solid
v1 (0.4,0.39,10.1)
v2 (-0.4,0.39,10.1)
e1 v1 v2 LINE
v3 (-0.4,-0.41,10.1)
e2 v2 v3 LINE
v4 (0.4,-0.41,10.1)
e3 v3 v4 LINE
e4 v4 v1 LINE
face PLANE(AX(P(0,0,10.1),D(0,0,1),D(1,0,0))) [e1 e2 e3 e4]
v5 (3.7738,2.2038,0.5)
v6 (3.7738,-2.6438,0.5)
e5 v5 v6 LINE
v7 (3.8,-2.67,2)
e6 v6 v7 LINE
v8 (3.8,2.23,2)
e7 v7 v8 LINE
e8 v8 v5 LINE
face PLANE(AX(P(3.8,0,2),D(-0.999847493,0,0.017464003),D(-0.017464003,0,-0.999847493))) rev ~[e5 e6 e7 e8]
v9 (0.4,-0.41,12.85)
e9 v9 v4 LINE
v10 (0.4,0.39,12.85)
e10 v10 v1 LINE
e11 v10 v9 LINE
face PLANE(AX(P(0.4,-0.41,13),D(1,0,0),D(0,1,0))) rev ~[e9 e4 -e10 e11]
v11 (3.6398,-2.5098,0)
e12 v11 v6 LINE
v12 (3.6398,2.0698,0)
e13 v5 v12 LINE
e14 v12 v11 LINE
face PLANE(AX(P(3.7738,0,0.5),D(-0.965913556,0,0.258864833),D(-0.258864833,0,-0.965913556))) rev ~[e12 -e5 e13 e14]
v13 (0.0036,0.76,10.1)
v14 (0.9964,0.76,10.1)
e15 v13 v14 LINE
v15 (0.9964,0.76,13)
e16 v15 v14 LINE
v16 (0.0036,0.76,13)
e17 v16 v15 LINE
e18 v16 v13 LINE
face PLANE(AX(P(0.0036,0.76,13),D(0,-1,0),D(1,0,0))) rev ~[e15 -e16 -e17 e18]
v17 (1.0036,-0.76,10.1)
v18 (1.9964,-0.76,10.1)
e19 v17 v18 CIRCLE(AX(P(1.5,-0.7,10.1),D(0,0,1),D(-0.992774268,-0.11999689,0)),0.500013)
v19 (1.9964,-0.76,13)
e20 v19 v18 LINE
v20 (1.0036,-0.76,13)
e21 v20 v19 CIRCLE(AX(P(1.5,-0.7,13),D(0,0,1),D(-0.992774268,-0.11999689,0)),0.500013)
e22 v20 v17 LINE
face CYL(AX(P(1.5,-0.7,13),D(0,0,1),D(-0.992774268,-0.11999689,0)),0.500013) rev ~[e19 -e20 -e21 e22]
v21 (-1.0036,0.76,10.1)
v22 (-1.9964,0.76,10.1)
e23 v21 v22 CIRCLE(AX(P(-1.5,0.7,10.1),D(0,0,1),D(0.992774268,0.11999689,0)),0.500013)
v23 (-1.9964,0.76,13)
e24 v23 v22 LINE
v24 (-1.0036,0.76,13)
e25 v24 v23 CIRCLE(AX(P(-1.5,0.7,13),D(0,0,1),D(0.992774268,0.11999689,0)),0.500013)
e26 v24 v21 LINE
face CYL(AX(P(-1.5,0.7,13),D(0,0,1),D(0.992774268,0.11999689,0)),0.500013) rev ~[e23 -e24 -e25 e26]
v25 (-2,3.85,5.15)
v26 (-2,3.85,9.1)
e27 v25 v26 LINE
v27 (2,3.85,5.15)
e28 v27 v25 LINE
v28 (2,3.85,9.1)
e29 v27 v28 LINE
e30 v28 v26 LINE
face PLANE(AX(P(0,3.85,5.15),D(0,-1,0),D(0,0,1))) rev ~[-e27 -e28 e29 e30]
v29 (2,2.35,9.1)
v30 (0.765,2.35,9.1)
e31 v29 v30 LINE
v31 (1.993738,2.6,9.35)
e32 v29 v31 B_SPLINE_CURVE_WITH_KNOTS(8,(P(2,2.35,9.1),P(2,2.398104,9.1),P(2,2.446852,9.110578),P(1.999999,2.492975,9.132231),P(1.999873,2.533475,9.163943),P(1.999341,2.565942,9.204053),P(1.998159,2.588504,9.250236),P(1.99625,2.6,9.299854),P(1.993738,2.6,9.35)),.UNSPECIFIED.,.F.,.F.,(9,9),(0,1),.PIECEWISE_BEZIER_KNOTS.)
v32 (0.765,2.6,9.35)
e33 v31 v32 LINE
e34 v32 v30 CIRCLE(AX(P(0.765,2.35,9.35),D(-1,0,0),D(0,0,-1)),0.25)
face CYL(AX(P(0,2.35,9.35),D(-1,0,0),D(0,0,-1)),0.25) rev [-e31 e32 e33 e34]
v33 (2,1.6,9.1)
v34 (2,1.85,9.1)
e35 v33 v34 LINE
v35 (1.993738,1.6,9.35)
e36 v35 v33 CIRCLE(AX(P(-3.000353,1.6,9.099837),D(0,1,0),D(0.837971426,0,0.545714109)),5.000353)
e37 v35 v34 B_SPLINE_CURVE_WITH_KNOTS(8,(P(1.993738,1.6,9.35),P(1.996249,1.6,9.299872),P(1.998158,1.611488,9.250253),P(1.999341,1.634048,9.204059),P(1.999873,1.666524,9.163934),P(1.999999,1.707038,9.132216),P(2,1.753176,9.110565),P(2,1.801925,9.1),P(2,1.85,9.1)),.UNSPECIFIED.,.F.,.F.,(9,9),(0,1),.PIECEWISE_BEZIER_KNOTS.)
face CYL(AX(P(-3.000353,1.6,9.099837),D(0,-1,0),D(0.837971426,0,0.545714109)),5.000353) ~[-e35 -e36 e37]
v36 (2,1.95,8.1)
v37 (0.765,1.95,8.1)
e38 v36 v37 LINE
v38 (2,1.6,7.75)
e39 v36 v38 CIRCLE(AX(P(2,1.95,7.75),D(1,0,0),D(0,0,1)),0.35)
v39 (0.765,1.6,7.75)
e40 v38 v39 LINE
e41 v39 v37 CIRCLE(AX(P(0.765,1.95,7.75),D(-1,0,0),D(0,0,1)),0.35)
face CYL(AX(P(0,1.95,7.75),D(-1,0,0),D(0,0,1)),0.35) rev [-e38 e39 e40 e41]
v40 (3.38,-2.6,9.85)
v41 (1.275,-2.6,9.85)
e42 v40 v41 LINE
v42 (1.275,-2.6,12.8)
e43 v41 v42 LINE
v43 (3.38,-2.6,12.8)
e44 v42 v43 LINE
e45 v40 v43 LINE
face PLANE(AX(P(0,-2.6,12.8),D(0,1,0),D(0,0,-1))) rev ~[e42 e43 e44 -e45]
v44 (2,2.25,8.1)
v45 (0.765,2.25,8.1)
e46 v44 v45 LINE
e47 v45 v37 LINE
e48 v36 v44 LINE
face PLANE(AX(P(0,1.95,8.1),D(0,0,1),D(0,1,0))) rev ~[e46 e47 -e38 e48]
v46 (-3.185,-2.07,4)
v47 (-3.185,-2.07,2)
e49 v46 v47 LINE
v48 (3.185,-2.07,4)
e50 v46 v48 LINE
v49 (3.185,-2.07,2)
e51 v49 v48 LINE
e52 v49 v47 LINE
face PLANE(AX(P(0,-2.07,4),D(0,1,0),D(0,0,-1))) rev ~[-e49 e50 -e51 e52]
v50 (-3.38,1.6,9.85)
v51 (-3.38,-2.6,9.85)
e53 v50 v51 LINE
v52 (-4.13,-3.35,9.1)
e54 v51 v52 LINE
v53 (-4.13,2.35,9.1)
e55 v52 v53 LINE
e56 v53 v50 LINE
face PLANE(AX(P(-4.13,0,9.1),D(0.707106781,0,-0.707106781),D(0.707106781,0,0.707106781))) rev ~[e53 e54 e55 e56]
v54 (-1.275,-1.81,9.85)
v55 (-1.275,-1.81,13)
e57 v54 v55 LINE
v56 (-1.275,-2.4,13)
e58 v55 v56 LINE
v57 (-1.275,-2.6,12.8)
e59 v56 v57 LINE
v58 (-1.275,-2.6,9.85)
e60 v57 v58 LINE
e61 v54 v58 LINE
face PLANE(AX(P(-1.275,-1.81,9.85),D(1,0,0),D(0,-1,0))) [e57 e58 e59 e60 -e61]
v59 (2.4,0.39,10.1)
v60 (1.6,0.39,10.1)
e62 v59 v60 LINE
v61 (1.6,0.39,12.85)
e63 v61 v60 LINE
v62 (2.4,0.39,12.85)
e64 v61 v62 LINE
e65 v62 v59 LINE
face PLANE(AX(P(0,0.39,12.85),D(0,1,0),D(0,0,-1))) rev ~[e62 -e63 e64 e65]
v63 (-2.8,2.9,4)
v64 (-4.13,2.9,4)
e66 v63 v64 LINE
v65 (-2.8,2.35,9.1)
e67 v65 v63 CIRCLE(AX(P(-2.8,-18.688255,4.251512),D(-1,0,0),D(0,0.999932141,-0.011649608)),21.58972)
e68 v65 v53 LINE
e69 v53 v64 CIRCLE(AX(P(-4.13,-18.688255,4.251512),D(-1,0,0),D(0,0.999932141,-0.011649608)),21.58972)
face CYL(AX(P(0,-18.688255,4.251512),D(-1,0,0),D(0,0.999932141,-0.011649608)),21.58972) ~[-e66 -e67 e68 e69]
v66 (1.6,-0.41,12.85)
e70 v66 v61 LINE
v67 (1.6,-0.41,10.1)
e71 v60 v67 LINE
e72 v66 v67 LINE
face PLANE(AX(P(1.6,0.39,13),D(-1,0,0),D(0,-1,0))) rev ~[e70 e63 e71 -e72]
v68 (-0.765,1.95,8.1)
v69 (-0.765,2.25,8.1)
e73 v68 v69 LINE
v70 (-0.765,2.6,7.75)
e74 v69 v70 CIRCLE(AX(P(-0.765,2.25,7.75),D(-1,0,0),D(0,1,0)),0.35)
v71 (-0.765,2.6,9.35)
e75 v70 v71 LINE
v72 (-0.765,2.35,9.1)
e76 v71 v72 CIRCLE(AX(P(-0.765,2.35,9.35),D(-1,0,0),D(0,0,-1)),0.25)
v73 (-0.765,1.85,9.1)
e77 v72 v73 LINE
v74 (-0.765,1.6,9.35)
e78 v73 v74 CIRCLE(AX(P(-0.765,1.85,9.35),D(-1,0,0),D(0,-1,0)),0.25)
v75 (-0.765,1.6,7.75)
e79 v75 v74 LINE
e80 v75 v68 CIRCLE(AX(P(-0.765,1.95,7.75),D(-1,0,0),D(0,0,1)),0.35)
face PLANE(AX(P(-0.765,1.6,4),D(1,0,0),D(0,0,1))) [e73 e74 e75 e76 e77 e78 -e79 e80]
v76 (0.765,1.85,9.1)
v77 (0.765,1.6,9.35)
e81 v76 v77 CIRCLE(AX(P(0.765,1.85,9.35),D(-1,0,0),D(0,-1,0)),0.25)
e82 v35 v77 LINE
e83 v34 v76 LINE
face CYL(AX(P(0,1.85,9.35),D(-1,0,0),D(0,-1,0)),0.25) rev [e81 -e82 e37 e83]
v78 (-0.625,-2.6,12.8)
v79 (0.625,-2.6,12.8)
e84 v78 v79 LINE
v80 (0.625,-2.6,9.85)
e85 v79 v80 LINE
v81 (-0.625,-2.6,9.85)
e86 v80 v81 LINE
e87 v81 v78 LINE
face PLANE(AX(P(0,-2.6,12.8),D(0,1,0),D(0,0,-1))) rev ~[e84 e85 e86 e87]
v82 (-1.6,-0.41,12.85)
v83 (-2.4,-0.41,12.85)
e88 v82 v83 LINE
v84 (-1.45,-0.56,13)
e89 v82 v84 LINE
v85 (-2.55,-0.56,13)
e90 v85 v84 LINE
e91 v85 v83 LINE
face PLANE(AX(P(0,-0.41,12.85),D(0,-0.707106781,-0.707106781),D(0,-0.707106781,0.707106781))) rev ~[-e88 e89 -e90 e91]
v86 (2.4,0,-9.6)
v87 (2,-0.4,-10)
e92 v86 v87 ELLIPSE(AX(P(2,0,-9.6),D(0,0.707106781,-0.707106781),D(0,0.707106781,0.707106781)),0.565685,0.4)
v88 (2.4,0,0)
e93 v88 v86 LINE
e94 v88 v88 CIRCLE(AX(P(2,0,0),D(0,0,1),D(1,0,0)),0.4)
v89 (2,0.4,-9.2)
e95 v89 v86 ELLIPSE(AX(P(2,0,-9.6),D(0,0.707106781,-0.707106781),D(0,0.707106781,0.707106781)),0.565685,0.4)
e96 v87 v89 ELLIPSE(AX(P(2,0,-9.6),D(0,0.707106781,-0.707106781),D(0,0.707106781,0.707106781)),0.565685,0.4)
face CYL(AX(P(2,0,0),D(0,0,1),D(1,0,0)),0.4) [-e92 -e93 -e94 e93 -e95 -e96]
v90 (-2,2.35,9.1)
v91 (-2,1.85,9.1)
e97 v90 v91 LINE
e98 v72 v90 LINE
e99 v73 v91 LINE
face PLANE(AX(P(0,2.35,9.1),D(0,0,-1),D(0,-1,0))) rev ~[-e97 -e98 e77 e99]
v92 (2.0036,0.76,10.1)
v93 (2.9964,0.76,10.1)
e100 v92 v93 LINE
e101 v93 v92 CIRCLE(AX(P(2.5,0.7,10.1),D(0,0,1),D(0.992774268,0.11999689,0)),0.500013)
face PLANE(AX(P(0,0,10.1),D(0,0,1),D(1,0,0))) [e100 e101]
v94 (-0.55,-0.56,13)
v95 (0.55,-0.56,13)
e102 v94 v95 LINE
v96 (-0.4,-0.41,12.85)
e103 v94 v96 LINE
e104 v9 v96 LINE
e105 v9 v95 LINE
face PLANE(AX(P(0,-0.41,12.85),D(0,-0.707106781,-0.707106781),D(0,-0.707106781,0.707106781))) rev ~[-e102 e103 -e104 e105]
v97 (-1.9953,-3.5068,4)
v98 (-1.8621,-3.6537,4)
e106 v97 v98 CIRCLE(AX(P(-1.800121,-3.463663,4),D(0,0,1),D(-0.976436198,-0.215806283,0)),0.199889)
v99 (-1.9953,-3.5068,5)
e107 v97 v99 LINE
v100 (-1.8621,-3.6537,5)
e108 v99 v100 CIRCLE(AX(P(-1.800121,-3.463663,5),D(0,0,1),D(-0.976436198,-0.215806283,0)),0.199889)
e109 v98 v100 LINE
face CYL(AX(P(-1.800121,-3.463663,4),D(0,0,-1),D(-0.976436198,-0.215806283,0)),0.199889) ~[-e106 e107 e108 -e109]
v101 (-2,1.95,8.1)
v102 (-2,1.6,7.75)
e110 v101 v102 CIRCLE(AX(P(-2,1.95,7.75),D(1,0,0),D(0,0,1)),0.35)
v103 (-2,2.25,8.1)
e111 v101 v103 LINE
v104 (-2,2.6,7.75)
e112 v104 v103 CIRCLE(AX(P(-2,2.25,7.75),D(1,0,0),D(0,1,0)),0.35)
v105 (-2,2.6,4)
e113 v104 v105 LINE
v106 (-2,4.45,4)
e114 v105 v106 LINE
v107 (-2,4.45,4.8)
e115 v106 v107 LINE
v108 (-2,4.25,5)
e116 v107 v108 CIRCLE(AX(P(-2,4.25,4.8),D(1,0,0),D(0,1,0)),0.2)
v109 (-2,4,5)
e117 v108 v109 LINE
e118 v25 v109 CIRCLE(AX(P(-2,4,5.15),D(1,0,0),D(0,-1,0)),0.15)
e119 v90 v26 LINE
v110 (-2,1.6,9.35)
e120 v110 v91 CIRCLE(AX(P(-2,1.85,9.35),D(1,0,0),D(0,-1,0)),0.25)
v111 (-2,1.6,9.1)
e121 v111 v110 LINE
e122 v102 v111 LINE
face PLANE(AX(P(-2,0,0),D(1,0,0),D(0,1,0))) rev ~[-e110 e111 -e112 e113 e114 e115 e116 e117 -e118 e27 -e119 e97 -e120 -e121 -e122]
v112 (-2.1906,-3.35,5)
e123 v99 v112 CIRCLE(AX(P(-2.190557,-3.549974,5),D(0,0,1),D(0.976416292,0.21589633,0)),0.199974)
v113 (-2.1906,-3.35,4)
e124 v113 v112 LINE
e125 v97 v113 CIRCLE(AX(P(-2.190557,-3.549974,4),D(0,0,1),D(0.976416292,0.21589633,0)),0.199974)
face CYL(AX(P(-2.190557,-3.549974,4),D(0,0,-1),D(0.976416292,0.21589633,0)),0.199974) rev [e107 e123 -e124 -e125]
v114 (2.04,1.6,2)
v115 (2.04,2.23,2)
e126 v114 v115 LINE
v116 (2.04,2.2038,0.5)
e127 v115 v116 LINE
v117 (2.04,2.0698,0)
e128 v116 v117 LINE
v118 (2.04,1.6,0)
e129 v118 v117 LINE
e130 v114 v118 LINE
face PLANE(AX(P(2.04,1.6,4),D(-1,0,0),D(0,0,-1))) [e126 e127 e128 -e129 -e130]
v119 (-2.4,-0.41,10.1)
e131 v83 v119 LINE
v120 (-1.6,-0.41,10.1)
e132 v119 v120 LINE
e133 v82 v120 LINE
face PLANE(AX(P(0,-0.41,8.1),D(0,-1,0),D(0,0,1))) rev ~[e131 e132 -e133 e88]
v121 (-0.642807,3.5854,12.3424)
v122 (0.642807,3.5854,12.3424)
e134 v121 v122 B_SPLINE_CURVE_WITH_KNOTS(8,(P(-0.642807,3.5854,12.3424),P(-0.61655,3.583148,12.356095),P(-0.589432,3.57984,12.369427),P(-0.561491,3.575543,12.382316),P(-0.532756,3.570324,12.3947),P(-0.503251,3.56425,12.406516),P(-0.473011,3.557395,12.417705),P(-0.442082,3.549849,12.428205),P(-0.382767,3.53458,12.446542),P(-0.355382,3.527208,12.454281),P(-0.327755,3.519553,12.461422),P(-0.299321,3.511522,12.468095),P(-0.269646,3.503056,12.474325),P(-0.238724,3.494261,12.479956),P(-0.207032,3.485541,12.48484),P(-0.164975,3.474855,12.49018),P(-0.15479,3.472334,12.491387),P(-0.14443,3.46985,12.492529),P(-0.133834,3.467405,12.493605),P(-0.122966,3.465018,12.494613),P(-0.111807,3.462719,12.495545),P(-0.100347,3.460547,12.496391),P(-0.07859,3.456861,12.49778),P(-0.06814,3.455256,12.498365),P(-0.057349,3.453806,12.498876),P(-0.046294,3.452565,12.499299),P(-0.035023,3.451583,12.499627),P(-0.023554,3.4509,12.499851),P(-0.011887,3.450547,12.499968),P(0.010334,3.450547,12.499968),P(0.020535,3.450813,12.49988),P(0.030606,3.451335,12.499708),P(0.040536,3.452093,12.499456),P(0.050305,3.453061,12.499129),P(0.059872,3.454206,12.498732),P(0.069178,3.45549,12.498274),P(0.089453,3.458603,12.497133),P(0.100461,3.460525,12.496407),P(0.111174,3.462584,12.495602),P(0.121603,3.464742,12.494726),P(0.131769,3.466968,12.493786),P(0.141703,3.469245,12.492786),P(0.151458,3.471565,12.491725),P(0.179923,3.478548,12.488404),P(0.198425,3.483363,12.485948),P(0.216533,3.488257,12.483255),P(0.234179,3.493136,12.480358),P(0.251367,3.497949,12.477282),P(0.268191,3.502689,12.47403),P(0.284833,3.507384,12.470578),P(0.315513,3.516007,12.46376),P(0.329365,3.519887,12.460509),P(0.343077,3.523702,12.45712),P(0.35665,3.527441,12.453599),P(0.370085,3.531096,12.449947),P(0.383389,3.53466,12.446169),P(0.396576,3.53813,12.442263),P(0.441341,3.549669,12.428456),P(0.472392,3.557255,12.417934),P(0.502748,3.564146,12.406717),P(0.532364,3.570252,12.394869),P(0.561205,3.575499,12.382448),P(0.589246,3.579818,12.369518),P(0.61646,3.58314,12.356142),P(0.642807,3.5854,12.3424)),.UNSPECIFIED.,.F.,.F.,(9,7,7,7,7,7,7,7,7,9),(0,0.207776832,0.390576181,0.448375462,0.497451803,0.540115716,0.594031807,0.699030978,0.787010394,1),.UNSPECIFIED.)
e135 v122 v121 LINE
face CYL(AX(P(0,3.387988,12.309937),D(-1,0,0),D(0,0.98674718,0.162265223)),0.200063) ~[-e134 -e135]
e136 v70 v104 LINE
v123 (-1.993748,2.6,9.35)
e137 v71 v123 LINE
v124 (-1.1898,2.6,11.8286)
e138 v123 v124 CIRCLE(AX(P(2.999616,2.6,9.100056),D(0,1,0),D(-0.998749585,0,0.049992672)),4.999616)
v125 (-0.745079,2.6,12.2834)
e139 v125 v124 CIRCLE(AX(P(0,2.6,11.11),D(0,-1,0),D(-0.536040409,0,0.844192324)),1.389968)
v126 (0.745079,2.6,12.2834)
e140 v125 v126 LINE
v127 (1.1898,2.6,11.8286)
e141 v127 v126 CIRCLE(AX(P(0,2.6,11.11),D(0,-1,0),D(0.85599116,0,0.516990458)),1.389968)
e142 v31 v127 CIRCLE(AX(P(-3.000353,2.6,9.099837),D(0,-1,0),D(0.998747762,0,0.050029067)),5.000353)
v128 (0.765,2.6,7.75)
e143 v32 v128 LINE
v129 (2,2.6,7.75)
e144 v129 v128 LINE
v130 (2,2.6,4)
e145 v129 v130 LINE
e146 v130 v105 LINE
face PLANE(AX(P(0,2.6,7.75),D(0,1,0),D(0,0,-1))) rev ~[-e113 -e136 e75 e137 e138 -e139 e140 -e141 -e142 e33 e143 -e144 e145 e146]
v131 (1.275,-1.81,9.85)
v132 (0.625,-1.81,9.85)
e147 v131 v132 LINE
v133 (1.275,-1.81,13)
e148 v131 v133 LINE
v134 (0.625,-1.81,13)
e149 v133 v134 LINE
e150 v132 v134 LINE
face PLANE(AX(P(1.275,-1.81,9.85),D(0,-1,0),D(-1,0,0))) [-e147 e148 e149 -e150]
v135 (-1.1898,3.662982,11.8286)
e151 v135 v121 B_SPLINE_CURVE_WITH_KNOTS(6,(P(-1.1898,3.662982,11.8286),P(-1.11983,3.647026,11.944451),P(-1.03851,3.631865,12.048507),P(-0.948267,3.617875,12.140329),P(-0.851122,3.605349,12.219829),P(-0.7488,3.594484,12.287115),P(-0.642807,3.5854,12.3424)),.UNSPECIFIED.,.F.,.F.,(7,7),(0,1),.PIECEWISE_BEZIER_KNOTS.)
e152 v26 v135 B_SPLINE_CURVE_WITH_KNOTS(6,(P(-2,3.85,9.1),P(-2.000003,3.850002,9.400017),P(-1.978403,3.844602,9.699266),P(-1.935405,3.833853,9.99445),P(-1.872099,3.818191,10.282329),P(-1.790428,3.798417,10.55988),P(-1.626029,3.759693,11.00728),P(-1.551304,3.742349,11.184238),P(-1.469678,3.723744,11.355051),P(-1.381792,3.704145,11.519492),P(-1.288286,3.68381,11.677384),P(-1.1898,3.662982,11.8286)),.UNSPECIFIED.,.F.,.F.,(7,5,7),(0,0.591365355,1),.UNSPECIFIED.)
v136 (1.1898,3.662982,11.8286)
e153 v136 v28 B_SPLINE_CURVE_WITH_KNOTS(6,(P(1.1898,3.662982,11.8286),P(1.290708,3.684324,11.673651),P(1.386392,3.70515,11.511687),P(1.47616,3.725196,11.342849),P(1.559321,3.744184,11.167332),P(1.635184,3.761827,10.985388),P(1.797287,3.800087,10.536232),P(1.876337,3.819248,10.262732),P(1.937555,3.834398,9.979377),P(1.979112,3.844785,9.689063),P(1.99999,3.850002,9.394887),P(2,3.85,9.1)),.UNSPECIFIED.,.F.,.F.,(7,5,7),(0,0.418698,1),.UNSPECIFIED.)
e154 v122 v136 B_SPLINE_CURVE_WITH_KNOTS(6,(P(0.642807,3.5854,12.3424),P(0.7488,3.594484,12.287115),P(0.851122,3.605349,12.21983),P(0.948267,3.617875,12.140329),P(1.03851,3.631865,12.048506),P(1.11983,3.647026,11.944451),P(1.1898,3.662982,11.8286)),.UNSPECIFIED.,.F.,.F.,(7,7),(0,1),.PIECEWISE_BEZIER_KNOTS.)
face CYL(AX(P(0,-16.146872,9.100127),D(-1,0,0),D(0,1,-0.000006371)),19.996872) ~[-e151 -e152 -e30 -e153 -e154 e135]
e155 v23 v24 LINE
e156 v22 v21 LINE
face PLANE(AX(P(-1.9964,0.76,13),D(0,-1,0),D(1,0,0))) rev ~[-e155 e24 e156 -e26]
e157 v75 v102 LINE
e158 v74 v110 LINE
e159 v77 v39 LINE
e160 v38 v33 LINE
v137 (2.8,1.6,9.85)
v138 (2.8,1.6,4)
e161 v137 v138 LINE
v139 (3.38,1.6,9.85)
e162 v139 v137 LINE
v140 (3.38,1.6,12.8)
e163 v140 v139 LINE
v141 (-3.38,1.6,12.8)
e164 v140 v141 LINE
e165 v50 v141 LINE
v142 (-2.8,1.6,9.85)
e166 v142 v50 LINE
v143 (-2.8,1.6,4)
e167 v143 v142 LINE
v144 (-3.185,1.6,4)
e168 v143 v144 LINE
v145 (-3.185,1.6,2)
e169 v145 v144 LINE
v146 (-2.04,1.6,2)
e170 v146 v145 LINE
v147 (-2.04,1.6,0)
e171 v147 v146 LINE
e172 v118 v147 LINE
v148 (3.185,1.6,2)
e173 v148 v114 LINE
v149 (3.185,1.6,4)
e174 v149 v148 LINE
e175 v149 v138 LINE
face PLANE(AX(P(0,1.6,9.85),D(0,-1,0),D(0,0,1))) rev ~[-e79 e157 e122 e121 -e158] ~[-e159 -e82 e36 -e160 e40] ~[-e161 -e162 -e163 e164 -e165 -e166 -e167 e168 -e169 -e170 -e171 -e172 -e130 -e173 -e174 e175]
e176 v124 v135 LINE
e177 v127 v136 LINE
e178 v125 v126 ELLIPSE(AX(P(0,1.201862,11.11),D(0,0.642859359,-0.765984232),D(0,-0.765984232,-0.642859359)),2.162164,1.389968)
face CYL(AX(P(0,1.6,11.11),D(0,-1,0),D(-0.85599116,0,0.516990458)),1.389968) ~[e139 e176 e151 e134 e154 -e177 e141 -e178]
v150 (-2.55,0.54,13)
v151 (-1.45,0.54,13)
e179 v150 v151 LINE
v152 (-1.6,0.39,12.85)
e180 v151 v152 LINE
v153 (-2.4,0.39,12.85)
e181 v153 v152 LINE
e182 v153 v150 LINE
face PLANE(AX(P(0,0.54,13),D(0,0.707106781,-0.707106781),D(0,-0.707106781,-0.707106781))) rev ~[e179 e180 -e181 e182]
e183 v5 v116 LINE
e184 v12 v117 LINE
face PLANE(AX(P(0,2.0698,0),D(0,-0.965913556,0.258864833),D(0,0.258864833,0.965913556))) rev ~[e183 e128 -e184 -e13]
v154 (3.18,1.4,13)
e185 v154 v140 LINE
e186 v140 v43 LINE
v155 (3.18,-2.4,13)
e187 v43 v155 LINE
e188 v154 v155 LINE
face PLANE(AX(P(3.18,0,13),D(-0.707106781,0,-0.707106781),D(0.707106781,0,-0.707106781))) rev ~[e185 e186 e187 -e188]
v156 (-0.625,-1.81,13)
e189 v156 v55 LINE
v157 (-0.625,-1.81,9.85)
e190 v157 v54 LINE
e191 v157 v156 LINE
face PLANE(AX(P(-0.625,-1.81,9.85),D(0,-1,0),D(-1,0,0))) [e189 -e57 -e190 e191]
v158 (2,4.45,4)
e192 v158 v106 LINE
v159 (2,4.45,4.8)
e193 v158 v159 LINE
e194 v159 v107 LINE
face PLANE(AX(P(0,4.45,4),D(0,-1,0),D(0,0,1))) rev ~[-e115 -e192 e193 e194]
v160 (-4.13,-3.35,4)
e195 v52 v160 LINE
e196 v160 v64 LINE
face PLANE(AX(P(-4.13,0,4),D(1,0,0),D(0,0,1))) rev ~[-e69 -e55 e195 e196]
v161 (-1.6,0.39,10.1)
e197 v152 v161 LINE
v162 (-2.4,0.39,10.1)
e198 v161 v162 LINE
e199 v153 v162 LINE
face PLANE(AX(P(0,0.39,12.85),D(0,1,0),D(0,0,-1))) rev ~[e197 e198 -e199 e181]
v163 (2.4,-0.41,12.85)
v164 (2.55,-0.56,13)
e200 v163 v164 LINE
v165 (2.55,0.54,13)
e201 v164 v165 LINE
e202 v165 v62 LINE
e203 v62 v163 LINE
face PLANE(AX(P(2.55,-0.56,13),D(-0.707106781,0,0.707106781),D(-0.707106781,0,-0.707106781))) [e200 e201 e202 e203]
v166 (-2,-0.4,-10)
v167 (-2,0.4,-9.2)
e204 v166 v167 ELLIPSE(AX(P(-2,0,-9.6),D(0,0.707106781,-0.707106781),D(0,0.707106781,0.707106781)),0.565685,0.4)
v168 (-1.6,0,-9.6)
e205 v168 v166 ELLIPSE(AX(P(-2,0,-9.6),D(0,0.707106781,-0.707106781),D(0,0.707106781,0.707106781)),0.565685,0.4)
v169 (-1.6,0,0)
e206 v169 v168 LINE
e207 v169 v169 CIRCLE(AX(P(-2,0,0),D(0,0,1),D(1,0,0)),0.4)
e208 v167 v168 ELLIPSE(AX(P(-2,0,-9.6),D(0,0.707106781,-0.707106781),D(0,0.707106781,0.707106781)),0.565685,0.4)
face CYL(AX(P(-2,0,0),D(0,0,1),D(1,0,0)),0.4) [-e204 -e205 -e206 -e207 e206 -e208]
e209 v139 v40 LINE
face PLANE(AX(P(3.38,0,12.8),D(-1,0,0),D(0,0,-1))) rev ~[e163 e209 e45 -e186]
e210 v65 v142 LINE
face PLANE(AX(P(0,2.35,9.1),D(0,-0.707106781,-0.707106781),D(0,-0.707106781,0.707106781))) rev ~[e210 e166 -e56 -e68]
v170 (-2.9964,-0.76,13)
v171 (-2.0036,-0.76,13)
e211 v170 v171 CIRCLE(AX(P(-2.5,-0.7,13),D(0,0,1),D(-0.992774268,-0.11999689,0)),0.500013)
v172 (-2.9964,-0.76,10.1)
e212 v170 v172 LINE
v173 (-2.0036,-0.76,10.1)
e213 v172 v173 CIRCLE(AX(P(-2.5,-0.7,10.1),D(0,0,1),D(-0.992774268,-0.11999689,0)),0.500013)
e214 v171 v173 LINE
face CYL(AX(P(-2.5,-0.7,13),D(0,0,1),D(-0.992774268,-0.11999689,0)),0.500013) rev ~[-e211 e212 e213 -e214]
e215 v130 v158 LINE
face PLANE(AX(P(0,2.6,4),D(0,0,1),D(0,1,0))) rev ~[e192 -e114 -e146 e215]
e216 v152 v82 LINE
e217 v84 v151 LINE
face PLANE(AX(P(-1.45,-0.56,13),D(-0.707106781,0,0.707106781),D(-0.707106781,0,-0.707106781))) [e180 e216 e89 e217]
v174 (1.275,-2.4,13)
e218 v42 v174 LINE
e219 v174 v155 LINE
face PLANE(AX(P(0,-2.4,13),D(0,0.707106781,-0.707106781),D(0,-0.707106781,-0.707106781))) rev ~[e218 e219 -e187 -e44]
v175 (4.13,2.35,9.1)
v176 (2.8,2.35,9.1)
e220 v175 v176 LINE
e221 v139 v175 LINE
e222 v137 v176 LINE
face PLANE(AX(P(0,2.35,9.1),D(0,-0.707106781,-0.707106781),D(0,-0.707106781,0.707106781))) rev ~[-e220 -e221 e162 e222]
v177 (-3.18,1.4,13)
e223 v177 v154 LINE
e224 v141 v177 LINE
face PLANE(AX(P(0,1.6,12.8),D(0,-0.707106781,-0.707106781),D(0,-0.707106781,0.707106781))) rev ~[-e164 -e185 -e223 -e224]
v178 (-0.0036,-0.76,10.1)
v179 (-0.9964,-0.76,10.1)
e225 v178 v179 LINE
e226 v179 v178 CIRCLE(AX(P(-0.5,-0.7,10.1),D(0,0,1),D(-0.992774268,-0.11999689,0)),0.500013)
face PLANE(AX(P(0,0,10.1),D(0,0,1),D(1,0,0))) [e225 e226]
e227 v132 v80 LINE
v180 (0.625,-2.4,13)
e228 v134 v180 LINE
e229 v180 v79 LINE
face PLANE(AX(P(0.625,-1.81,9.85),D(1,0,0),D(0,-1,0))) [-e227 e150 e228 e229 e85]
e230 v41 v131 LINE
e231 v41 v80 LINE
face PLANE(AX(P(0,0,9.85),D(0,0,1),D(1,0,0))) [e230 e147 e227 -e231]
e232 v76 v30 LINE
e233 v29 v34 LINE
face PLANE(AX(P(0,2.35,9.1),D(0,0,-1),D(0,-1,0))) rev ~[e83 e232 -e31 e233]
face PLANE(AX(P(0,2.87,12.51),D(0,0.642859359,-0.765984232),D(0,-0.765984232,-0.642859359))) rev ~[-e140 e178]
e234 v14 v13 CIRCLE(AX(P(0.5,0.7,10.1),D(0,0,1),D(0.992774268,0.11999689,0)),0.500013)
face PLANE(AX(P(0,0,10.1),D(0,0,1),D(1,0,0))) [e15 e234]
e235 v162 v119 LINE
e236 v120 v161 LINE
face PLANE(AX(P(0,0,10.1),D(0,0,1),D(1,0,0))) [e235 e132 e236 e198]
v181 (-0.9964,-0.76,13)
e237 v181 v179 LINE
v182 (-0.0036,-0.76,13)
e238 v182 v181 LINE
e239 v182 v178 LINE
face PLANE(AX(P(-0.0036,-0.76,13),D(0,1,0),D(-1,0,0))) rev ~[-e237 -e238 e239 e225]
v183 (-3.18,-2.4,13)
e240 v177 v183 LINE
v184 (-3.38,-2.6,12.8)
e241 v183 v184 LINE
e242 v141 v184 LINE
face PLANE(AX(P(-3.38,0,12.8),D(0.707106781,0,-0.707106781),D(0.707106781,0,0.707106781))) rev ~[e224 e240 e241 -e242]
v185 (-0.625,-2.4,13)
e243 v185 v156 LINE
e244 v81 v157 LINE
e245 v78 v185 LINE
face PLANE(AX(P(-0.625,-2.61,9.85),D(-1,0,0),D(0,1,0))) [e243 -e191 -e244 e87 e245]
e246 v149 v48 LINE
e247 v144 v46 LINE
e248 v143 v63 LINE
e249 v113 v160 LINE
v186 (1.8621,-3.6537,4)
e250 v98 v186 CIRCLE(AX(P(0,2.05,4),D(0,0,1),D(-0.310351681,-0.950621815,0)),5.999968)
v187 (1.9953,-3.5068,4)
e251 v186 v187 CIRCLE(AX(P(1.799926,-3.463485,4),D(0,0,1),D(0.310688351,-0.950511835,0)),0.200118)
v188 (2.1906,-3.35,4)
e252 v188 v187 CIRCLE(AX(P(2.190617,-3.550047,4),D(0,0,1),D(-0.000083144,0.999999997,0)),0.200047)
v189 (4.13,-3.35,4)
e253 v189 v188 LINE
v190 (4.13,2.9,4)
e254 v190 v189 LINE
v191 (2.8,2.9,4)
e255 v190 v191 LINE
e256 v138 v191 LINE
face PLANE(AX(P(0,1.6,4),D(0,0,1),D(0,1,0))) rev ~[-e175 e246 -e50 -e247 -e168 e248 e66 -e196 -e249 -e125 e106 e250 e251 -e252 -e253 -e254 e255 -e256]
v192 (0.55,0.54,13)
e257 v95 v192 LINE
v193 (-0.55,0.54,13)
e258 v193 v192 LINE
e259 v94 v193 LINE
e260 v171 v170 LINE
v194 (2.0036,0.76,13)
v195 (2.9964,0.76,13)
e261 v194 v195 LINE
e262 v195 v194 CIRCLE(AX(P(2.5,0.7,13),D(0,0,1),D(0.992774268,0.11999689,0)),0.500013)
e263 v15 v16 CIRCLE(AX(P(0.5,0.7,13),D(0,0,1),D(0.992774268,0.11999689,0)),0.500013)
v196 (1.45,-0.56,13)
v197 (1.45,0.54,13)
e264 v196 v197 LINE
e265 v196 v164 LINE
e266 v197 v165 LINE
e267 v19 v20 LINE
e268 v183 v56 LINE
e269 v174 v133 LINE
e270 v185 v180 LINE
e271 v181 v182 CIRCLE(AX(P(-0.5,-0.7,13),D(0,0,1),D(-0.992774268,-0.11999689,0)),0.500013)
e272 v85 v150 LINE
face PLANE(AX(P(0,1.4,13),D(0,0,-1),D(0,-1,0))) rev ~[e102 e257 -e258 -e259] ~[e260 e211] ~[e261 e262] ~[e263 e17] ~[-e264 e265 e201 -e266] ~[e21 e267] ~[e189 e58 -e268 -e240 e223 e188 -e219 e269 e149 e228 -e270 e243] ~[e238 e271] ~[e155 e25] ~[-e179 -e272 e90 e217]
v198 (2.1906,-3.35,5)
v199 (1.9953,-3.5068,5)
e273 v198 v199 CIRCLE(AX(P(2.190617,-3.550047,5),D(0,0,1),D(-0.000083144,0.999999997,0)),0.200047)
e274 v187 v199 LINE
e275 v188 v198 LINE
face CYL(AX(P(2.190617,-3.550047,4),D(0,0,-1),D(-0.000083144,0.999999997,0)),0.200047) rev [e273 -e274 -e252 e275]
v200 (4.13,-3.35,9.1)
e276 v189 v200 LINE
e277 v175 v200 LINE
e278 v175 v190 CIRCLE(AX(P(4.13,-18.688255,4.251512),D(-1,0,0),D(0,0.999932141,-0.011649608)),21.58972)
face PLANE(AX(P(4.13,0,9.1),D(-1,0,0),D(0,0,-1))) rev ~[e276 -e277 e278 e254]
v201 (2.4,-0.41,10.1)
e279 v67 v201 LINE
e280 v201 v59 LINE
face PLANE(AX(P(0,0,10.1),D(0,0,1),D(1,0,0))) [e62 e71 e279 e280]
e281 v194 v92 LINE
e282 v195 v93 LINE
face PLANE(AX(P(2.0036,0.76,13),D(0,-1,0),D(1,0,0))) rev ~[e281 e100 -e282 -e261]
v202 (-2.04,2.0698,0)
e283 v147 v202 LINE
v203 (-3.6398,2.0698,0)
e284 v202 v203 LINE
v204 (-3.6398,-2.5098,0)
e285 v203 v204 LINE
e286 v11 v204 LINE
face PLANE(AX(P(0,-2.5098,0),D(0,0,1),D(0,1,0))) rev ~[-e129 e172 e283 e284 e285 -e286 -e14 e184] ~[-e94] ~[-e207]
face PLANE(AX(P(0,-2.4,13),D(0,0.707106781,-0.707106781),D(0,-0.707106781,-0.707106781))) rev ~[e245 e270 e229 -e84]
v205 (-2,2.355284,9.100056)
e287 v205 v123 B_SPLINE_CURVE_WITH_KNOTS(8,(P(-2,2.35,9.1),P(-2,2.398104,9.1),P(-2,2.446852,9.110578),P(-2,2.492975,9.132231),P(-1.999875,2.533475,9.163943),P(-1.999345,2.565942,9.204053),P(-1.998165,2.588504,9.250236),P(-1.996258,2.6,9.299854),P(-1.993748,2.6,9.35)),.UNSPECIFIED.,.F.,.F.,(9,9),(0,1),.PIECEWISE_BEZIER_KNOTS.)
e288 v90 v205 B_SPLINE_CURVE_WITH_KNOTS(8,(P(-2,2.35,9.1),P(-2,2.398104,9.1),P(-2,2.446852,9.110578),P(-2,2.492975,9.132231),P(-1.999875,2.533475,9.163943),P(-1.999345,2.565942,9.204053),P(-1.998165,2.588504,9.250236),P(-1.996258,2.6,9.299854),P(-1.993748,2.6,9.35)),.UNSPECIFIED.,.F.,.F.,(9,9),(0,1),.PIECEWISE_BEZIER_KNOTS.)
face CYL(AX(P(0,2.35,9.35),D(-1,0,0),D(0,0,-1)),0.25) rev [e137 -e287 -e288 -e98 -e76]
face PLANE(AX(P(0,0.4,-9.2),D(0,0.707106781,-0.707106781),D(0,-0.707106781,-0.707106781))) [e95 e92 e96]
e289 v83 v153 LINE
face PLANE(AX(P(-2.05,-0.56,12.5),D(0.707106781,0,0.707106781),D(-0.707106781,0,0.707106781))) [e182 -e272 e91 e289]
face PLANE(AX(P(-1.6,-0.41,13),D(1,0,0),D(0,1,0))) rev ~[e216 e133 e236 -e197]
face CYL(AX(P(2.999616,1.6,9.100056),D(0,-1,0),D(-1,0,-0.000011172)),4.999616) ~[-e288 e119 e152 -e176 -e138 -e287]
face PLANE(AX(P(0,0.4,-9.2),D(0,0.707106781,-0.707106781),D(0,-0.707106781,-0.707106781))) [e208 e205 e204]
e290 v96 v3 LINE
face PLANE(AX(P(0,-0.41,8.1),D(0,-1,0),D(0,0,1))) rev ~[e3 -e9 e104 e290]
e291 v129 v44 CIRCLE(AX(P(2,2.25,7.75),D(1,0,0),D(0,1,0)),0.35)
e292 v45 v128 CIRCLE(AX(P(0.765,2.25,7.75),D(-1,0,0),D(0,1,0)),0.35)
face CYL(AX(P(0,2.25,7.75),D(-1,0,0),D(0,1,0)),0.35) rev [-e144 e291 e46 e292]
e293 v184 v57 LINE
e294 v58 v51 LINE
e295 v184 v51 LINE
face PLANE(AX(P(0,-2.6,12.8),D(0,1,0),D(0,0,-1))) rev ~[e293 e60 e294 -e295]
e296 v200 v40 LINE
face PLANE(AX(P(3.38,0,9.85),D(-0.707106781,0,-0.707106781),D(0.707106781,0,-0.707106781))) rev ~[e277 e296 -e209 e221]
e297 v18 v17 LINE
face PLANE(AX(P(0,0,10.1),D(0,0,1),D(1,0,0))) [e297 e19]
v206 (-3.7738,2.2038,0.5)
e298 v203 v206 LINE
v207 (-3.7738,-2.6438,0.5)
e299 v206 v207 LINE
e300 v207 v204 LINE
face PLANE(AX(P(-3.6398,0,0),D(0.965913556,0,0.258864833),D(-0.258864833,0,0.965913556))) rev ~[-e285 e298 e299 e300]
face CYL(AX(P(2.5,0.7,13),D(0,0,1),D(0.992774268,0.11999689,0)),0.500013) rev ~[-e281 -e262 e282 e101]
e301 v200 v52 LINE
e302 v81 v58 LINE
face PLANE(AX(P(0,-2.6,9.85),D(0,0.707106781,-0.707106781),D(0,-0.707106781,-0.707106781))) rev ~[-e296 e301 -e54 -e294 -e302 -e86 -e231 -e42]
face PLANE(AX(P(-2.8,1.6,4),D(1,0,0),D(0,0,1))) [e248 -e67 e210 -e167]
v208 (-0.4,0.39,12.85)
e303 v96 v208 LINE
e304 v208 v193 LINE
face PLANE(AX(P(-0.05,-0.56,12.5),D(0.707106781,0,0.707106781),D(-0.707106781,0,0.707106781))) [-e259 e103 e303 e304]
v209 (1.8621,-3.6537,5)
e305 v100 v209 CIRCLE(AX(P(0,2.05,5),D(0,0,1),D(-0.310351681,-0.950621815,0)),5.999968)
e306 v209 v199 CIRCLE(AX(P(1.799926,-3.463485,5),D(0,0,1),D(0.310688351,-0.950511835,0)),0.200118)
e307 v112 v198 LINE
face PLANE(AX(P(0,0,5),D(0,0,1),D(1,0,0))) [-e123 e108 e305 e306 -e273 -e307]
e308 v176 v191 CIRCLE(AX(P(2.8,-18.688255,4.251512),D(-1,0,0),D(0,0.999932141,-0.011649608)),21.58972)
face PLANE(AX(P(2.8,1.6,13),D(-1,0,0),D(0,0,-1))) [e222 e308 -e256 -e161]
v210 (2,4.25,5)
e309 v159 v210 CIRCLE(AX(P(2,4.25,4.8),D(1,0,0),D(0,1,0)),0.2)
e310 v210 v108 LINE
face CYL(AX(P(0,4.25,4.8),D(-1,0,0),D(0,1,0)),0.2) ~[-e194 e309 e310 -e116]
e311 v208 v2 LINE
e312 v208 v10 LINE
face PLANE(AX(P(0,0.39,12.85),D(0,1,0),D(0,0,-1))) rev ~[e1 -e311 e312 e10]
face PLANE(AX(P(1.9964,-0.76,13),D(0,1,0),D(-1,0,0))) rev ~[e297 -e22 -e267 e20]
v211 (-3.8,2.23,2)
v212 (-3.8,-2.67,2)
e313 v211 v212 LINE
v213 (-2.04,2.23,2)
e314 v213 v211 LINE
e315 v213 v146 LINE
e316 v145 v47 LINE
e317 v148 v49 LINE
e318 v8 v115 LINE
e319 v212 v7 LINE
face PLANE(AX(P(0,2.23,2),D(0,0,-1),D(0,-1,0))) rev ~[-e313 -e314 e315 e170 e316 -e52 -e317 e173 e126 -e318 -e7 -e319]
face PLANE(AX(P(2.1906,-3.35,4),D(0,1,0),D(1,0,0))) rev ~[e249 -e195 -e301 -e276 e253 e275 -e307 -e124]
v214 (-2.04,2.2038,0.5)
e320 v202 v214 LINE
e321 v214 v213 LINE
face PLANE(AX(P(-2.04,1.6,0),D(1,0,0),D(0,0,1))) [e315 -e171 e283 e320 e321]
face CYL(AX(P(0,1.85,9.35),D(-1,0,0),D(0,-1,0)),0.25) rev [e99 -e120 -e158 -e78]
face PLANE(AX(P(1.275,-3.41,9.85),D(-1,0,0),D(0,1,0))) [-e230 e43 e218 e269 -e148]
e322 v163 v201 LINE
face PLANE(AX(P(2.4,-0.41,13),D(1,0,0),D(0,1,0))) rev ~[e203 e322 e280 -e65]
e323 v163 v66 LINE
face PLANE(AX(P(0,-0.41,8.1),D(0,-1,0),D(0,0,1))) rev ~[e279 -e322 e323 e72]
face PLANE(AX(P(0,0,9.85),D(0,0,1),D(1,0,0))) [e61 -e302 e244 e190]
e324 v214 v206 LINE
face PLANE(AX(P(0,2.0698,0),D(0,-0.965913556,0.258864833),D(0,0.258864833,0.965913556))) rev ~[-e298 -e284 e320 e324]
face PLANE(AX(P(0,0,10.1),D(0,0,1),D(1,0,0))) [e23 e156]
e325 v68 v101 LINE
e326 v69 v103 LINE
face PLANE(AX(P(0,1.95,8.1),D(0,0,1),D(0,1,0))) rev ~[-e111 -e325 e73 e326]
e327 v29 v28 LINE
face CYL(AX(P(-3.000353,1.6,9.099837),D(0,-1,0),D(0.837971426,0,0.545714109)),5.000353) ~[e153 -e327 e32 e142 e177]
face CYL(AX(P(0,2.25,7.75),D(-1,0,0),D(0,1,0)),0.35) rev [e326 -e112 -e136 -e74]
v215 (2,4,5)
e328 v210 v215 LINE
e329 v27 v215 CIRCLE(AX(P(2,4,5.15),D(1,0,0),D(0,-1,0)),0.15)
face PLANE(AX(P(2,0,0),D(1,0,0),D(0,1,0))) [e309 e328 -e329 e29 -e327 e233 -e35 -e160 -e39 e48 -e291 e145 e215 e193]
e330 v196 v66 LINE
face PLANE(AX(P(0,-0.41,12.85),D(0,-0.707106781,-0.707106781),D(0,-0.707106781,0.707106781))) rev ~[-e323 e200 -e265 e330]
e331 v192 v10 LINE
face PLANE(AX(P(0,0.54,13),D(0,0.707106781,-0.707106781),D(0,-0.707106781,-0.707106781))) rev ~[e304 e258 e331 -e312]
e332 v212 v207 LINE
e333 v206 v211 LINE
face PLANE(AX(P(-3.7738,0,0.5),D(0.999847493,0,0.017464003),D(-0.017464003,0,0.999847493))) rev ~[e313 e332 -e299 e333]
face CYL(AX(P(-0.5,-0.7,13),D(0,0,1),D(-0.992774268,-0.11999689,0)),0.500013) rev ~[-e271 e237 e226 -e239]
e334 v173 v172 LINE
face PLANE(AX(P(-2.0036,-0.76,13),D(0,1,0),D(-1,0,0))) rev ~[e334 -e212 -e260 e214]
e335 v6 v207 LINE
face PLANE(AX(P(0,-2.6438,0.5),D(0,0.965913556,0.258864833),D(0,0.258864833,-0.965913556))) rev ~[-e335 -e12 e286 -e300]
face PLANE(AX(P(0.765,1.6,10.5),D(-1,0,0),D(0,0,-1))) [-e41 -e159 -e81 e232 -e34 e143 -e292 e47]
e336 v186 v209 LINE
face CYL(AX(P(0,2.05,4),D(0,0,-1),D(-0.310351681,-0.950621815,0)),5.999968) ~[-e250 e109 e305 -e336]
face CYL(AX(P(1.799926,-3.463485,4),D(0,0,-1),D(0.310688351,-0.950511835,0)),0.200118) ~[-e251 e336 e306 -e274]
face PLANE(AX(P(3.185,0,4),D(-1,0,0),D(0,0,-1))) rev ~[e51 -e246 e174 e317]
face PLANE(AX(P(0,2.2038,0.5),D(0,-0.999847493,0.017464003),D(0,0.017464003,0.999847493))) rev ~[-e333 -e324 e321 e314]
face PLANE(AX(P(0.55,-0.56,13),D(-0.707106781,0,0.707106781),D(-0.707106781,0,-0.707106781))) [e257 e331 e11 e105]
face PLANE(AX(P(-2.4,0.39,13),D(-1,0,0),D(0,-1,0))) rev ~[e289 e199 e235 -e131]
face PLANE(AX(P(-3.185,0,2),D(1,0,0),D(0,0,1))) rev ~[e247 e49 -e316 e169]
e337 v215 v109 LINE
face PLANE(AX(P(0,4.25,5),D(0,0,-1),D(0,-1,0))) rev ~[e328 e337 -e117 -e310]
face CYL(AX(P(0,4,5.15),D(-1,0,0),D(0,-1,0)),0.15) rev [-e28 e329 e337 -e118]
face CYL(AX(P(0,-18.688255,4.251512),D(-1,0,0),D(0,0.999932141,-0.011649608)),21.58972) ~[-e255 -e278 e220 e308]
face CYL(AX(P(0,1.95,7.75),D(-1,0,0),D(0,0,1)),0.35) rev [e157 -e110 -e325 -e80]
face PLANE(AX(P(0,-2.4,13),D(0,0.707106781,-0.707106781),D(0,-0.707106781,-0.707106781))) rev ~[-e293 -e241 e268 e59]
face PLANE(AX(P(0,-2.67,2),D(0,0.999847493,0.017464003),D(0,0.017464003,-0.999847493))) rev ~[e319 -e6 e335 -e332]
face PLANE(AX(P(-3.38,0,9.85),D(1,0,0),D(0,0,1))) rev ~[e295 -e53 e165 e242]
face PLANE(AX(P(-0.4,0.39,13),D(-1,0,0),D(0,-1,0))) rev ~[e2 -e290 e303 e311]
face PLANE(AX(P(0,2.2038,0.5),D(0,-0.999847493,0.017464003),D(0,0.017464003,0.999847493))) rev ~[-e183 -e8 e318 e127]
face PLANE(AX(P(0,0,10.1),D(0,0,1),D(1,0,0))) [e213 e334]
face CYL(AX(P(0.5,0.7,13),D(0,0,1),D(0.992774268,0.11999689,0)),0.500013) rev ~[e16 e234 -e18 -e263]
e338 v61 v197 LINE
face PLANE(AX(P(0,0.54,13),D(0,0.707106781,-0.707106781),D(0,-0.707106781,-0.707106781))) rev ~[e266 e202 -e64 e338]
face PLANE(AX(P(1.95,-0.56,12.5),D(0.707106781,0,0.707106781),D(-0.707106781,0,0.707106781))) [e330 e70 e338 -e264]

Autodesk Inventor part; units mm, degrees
sketch "Sketch_9" plane through (0, 0, 0) normal (1, 0, 0) x (0, 1, 0)
  line L0 (1.4, 13) -> (-2.4, 13)
  line L1 (-2.4, 13) -> (-2.6, 12.8)
  line L2 (-2.6, 12.8) -> (-2.6, 9.85)
  line L3 (-2.6, 9.85) -> (-3.35, 9.1)
  line L4 (-3.35, 9.1) -> (-3.35, 4)
  line L5 (-3.35, 4) -> (-2.07, 4)
  line L6 (-2.07, 4) -> (-2.07, 2)
  line L7 (-2.07, 2) -> (-2.67, 2)
  line L8 (-2.67, 2) -> (-2.6438, 0.5)
  line L9 (-2.6438, 0.5) -> (-2.5098, 0)
  line L10 (-2.5098, 0) -> (2.0698, 0)
  line L11 (2.0698, 0) -> (2.2038, 0.5)
  line L12 (2.2038, 0.5) -> (2.23, 2)
  line L13 (2.23, 2) -> (1.6, 2)
  line L14 (1.6, 2) -> (1.6, 4)
  line L15 (1.6, 4) -> (2.9, 4)
  arc A0 (2.9, 4) -> (2.35, 9.1) centre (-18.6885, 4.2515) ccw
  line L16 (2.35, 9.1) -> (1.6, 9.85)
  line L17 (1.6, 9.85) -> (1.6, 12.8)
  line L18 (1.6, 12.8) -> (1.4, 13)
extrude "Extrusion1" add sketch "Sketch_9" along normal mid plane 8.3
sketch "Sketch_23" plane through (0, 0, 0) normal (0, 1, 0) x (-1, 0, 0)
  line L0 (5, 14) -> (-5, 14)
  line L1 (-5, 14) -> (-5, -1)
  line L2 (-5, -1) -> (5, -1)
  line L3 (5, -1) -> (5, 14)
  line L4 (4.13, 9.1) -> (3.38, 9.85)
  line L5 (3.38, 9.85) -> (3.38, 12.8)
  line L6 (3.38, 12.8) -> (3.18, 13)
  line L7 (3.18, 13) -> (-3.18, 13)
  line L8 (-3.18, 13) -> (-3.38, 12.8)
  line L9 (-3.38, 12.8) -> (-3.38, 9.85)
  line L10 (-3.38, 9.85) -> (-4.13, 9.1)
  line L11 (-4.13, 9.1) -> (-4.13, 4)
  line L12 (-4.13, 4) -> (-3.185, 4)
  line L13 (-3.185, 4) -> (-3.185, 2)
  line L14 (-3.185, 2) -> (-3.8, 2)
  line L15 (-3.8, 2) -> (-3.7738, 0.5)
  line L16 (-3.7738, 0.5) -> (-3.6398, 0)
  line L17 (-3.6398, 0) -> (3.6398, 0)
  line L18 (3.6398, 0) -> (3.7738, 0.5)
  line L19 (3.7738, 0.5) -> (3.8, 2)
  line L20 (3.8, 2) -> (3.185, 2)
  line L21 (3.185, 2) -> (3.185, 4)
  line L22 (3.185, 4) -> (4.13, 4)
  line L23 (4.13, 4) -> (4.13, 9.1)
extrude "Extrusion2" cut sketch "Sketch_23" along normal mid plane 12
sketch "Sketch_1" plane through (0, 1.6, 0) normal (0, 1, 0) x (1, 0, 0)
  line L0 (-2.8, -4) -> (-2.8, -13)
  line L1 (-2.8, -13) -> (2.8, -13)
  line L2 (2.8, -13) -> (2.8, -4)
  line L3 (2.8, -4) -> (2.04, -4)
  line L4 (2.04, -4) -> (2.04, 0)
  line L5 (2.04, 0) -> (-2.04, 0)
  line L6 (-2.04, 0) -> (-2.04, -4)
  line L7 (-2.04, -4) -> (-2.8, -4)
extrude "Extrusion3" cut sketch "Sketch_1" along normal blind 2
sketch "Sketch_2" plane through (0, 0, 0) normal (1, 0, 0) x (0, 1, 0)
  line L0 (3.3881, 12.51) -> (2.87, 12.51)
  line L1 (2.87, 12.51) -> (2.6, 12.2834)
  line L2 (2.6, 12.2834) -> (2.6, 9.35)
  arc A0 (2.35, 9.1) -> (2.6, 9.35) centre (2.35, 9.35) ccw
  line L3 (2.35, 9.1) -> (1.85, 9.1)
  arc A1 (1.6, 9.35) -> (1.85, 9.1) centre (1.85, 9.35) ccw
  line L4 (1.6, 9.35) -> (0.6, 9.35)
  line L5 (0.6, 9.35) -> (0.6, 7.75)
  line L6 (0.6, 7.75) -> (1.6, 7.75)
  arc A2 (1.95, 8.1) -> (1.6, 7.75) centre (1.95, 7.75) ccw
  line L7 (1.95, 8.1) -> (2.25, 8.1)
  arc A3 (2.6, 7.75) -> (2.25, 8.1) centre (2.25, 7.75) ccw
  line L8 (2.6, 7.75) -> (2.6, 4)
  line L9 (2.6, 4) -> (4.45, 4)
  line L10 (4.45, 4) -> (4.45, 4.8)
  arc A4 (4.45, 4.8) -> (4.25, 5) centre (4.25, 4.8) ccw
  line L11 (4.25, 5) -> (4, 5)
  arc A5 (3.85, 5.15) -> (4, 5) centre (4, 5.15) ccw
  line L12 (3.85, 5.15) -> (3.85, 9.1)
  arc A6 (3.85, 9.1) -> (3.5854, 12.3424) centre (-16.15, 9.1) ccw
  arc A7 (3.5854, 12.3424) -> (3.3881, 12.51) centre (3.3881, 12.31) ccw
extrude "Extrusion4" add sketch "Sketch_2" along normal mid plane 4
sketch "Sketch_3" plane through (0, 1.6, 0) normal (0, 1, 0) x (1, 0, 0)
  line L0 (-2.2, -12.8) -> (2.2, -12.8)
  line L1 (2.2, -12.8) -> (2.2, -3.8)
  line L2 (2.2, -3.8) -> (-2.2, -3.8)
  line L3 (-2.2, -3.8) -> (-2.2, -12.8)
  arc A0 (-2, -9.1) -> (-1.1898, -11.8286) centre (3, -9.1) ccw
  arc A1 (-1.1898, -11.8286) -> (1.1898, -11.8286) centre (0, -11.11) ccw
  arc A2 (1.1898, -11.8286) -> (2, -9.1) centre (-3, -9.1) ccw
  line L4 (2, -9.1) -> (2, -4)
  line L5 (2, -4) -> (-2, -4)
  line L6 (-2, -4) -> (-2, -9.1)
extrude "Extrusion5" cut sketch "Sketch_3" along normal blind 3
sketch "Sketch_4" plane through (0, 1.6, 0) normal (0, 1, 0) x (1, 0, 0)
  line L0 (-2, -10.5) -> (-2, -13)
  line L1 (-2, -13) -> (-0.765, -13)
  line L2 (-0.765, -13) -> (-0.765, -10.7)
  line L3 (-0.765, -10.7) -> (0.765, -10.7)
  line L4 (0.765, -10.7) -> (0.765, -13)
  line L5 (0.765, -13) -> (2, -13)
  line L6 (2, -13) -> (2, -10.5)
  line L7 (2, -10.5) -> (0.765, -10.5)
  line L8 (0.765, -10.5) -> (0.765, -4)
  line L9 (0.765, -4) -> (2, -4)
  line L10 (2, -4) -> (2, -3)
  line L11 (2, -3) -> (-2, -3)
  line L12 (-2, -3) -> (-2, -4)
  line L13 (-2, -4) -> (-0.765, -4)
  line L14 (-0.765, -4) -> (-0.765, -10.5)
  line L15 (-0.765, -10.5) -> (-2, -10.5)
extrude "Extrusion6" cut sketch "Sketch_4" along normal blind 1
sketch "Sketch_5" plane through (0, 0, 4) normal (0, 0, 1) x (1, 0, 0)
  line L0 (-2.3, -3.35) -> (-2.1906, -3.35)
  arc A0 (-1.9953, -3.5068) -> (-2.1906, -3.35) centre (-2.1906, -3.55) ccw
  arc A1 (-1.9953, -3.5068) -> (-1.8621, -3.6537) centre (-1.8, -3.4636) ccw
  arc A2 (-1.8621, -3.6537) -> (1.8621, -3.6537) centre (0, 2.05) ccw
  arc A3 (1.8621, -3.6537) -> (1.9953, -3.5068) centre (1.8, -3.4636) ccw
  arc A4 (2.1906, -3.35) -> (1.9953, -3.5068) centre (2.1906, -3.55) ccw
  line L1 (2.1906, -3.35) -> (2.3, -3.35)
  line L2 (2.3, -3.35) -> (2, 0)
  line L3 (2, 0) -> (-2, 0)
  line L4 (-2, 0) -> (-2.3, -3.35)
extrude "Extrusion7" add sketch "Sketch_5" along normal blind 1
sketch "Sketch_6" plane through (0, 0, 9.85) normal (0, 0, 1) x (1, 0, 0)
  line L0 (-1.275, -1.81) -> (-1.275, -3.41)
  line L1 (-1.275, -3.41) -> (1.275, -3.41)
  line L2 (1.275, -3.41) -> (1.275, -1.81)
  line L3 (1.275, -1.81) -> (0.625, -1.81)
  line L4 (0.625, -1.81) -> (0.625, -2.61)
  line L5 (0.625, -2.61) -> (-0.625, -2.61)
  line L6 (-0.625, -2.61) -> (-0.625, -1.81)
  line L7 (-0.625, -1.81) -> (-1.275, -1.81)
extrude "Extrusion8" cut sketch "Sketch_6" along normal blind 3.2
sketch "Sketch_19" plane through (0, 0, 13) normal (0, 0, 1) x (1, 0, 0)
  line L0 (-2.4, 0.39) -> (-2.4, -0.41)
  line L1 (-2.4, -0.41) -> (-1.6, -0.41)
  line L2 (-1.6, -0.41) -> (-1.6, 0.39)
  line L3 (-1.6, 0.39) -> (-2.4, 0.39)
extrude "Extrusion9" cut sketch "Sketch_19" against normal blind 2.9
sketch "Sketch_20" plane through (0, 0, 13) normal (0, 0, 1) x (1, 0, 0)
  line L0 (-0.4, 0.39) -> (-0.4, -0.41)
  line L1 (-0.4, -0.41) -> (0.4, -0.41)
  line L2 (0.4, -0.41) -> (0.4, 0.39)
  line L3 (0.4, 0.39) -> (-0.4, 0.39)
extrude "Extrusion10" cut sketch "Sketch_20" against normal blind 2.9
sketch "Sketch_21" plane through (0, 0, 13) normal (0, 0, 1) x (1, 0, 0)
  line L0 (1.6, 0.39) -> (1.6, -0.41)
  line L1 (1.6, -0.41) -> (2.4, -0.41)
  line L2 (2.4, -0.41) -> (2.4, 0.39)
  line L3 (2.4, 0.39) -> (1.6, 0.39)
extrude "Extrusion11" cut sketch "Sketch_21" against normal blind 2.9
sketch "Sketch_7" plane through (0, 0, 13) normal (0, 0, 1) x (1, 0, 0)
  arc A0 (-2.9964, -0.76) -> (-2.0036, -0.76) centre (-2.5, -0.7) ccw
  line L0 (-2.0036, -0.76) -> (-2.9964, -0.76)
extrude "Extrusion12" cut sketch "Sketch_7" against normal blind 2.9
sketch "Sketch_8" plane through (0, 0, 13) normal (0, 0, 1) x (1, 0, 0)
  line L0 (0.0036, 0.76) -> (0.9964, 0.76)
  arc A0 (0.9964, 0.76) -> (0.0036, 0.76) centre (0.5, 0.7) ccw
extrude "Extrusion13" cut sketch "Sketch_8" against normal blind 2.9
sketch "Sketch_10" plane through (0, 0, 13) normal (0, 0, 1) x (1, 0, 0)
  line L0 (2.0036, 0.76) -> (2.9964, 0.76)
  arc A0 (2.9964, 0.76) -> (2.0036, 0.76) centre (2.5, 0.7) ccw
extrude "Extrusion14" cut sketch "Sketch_10" against normal blind 2.9
sketch "Sketch_11" plane through (0, 0, 13) normal (0, 0, 1) x (1, 0, 0)
  line L0 (-1.9964, 0.76) -> (-1.0036, 0.76)
  arc A0 (-1.0036, 0.76) -> (-1.9964, 0.76) centre (-1.5, 0.7) ccw
extrude "Extrusion15" cut sketch "Sketch_11" against normal blind 2.9
sketch "Sketch_12" plane through (0, 0, 13) normal (0, 0, 1) x (1, 0, 0)
  arc A0 (-0.9964, -0.76) -> (-0.0036, -0.76) centre (-0.5, -0.7) ccw
  line L0 (-0.0036, -0.76) -> (-0.9964, -0.76)
extrude "Extrusion16" cut sketch "Sketch_12" against normal blind 2.9
sketch "Sketch_13" plane through (0, 0, 13) normal (0, 0, 1) x (1, 0, 0)
  arc A0 (1.0036, -0.76) -> (1.9964, -0.76) centre (1.5, -0.7) ccw
  line L0 (1.9964, -0.76) -> (1.0036, -0.76)
extrude "Extrusion17" cut sketch "Sketch_13" against normal blind 2.9
sketch "Sketch_14" plane through (0, -0.56, 0) normal (0, 1, 0) x (1, 0, 0)
  line L0 (-2.55, -13) -> (-2.55, -13.5)
  line L1 (-2.55, -13.5) -> (2.55, -13.5)
  line L2 (2.55, -13.5) -> (2.55, -13)
  line L3 (2.55, -13) -> (2.05, -12.5)
  line L4 (2.05, -12.5) -> (1.95, -12.5)
  line L5 (1.95, -12.5) -> (1.45, -13)
  line L6 (1.45, -13) -> (0.55, -13)
  line L7 (0.55, -13) -> (0.05, -12.5)
  line L8 (0.05, -12.5) -> (-0.05, -12.5)
  line L9 (-0.05, -12.5) -> (-0.55, -13)
  line L10 (-0.55, -13) -> (-1.45, -13)
  line L11 (-1.45, -13) -> (-1.95, -12.5)
  line L12 (-1.95, -12.5) -> (-2.05, -12.5)
  line L13 (-2.05, -12.5) -> (-2.55, -13)
extrude "Extrusion18" cut sketch "Sketch_14" along normal blind 1.1
sketch "Sketch_15" plane through (0, 0, 0) normal (1, 0, 0) x (0, 1, 0)
  line L0 (0.54, 13) -> (0.39, 12.85)
  line L1 (0.39, 12.85) -> (0.39, 8.1)
  line L2 (0.39, 8.1) -> (-0.41, 8.1)
  line L3 (-0.41, 8.1) -> (-0.41, 12.85)
  line L4 (-0.41, 12.85) -> (-0.56, 13)
  line L5 (-0.56, 13) -> (-0.56, 8)
  line L6 (-0.56, 8) -> (0.54, 8)
  line L7 (0.54, 8) -> (0.54, 13)
extrude "Extrusion19" add sketch "Sketch_15" along normal mid plane 6
sketch "Sketch_16" plane through (0, 0, 0) normal (0, 0, 1) x (1, 0, 0)
  circle A0 centre (2, 0) radius 0.4
extrude "Extrusion20" add sketch "Sketch_16" against normal blind 10
sketch "Sketch_17" plane through (0, 0, 0) normal (0, 0, 1) x (1, 0, 0)
  circle A0 centre (-2, 0) radius 0.4
extrude "Extrusion21" add sketch "Sketch_17" against normal blind 10
sketch "Sketch_18" plane through (0, 0, 0) normal (1, 0, 0) x (0, 1, 0)
  line L0 (0.4, -9.2) -> (-0.4, -10)
  line L1 (-0.4, -10) -> (0.4, -10)
  line L2 (0.4, -10) -> (0.4, -9.2)
extrude "Extrusion22" cut sketch "Sketch_18" along normal mid plane 5
ref_plane "NEBV_XY" through (0, 0.1, 13) normal (0, 0, 1) x (1, 0, 0)
ref_plane "NEBV_YZ" through (0, 0.1, 13) normal (1, 0, 0) x (0, 1, 0)
ref_plane "NEBV_ZX" through (0, 0.1, 13) normal (0, 1, 0) x (0, 0, 1)
properties part number "566654"
